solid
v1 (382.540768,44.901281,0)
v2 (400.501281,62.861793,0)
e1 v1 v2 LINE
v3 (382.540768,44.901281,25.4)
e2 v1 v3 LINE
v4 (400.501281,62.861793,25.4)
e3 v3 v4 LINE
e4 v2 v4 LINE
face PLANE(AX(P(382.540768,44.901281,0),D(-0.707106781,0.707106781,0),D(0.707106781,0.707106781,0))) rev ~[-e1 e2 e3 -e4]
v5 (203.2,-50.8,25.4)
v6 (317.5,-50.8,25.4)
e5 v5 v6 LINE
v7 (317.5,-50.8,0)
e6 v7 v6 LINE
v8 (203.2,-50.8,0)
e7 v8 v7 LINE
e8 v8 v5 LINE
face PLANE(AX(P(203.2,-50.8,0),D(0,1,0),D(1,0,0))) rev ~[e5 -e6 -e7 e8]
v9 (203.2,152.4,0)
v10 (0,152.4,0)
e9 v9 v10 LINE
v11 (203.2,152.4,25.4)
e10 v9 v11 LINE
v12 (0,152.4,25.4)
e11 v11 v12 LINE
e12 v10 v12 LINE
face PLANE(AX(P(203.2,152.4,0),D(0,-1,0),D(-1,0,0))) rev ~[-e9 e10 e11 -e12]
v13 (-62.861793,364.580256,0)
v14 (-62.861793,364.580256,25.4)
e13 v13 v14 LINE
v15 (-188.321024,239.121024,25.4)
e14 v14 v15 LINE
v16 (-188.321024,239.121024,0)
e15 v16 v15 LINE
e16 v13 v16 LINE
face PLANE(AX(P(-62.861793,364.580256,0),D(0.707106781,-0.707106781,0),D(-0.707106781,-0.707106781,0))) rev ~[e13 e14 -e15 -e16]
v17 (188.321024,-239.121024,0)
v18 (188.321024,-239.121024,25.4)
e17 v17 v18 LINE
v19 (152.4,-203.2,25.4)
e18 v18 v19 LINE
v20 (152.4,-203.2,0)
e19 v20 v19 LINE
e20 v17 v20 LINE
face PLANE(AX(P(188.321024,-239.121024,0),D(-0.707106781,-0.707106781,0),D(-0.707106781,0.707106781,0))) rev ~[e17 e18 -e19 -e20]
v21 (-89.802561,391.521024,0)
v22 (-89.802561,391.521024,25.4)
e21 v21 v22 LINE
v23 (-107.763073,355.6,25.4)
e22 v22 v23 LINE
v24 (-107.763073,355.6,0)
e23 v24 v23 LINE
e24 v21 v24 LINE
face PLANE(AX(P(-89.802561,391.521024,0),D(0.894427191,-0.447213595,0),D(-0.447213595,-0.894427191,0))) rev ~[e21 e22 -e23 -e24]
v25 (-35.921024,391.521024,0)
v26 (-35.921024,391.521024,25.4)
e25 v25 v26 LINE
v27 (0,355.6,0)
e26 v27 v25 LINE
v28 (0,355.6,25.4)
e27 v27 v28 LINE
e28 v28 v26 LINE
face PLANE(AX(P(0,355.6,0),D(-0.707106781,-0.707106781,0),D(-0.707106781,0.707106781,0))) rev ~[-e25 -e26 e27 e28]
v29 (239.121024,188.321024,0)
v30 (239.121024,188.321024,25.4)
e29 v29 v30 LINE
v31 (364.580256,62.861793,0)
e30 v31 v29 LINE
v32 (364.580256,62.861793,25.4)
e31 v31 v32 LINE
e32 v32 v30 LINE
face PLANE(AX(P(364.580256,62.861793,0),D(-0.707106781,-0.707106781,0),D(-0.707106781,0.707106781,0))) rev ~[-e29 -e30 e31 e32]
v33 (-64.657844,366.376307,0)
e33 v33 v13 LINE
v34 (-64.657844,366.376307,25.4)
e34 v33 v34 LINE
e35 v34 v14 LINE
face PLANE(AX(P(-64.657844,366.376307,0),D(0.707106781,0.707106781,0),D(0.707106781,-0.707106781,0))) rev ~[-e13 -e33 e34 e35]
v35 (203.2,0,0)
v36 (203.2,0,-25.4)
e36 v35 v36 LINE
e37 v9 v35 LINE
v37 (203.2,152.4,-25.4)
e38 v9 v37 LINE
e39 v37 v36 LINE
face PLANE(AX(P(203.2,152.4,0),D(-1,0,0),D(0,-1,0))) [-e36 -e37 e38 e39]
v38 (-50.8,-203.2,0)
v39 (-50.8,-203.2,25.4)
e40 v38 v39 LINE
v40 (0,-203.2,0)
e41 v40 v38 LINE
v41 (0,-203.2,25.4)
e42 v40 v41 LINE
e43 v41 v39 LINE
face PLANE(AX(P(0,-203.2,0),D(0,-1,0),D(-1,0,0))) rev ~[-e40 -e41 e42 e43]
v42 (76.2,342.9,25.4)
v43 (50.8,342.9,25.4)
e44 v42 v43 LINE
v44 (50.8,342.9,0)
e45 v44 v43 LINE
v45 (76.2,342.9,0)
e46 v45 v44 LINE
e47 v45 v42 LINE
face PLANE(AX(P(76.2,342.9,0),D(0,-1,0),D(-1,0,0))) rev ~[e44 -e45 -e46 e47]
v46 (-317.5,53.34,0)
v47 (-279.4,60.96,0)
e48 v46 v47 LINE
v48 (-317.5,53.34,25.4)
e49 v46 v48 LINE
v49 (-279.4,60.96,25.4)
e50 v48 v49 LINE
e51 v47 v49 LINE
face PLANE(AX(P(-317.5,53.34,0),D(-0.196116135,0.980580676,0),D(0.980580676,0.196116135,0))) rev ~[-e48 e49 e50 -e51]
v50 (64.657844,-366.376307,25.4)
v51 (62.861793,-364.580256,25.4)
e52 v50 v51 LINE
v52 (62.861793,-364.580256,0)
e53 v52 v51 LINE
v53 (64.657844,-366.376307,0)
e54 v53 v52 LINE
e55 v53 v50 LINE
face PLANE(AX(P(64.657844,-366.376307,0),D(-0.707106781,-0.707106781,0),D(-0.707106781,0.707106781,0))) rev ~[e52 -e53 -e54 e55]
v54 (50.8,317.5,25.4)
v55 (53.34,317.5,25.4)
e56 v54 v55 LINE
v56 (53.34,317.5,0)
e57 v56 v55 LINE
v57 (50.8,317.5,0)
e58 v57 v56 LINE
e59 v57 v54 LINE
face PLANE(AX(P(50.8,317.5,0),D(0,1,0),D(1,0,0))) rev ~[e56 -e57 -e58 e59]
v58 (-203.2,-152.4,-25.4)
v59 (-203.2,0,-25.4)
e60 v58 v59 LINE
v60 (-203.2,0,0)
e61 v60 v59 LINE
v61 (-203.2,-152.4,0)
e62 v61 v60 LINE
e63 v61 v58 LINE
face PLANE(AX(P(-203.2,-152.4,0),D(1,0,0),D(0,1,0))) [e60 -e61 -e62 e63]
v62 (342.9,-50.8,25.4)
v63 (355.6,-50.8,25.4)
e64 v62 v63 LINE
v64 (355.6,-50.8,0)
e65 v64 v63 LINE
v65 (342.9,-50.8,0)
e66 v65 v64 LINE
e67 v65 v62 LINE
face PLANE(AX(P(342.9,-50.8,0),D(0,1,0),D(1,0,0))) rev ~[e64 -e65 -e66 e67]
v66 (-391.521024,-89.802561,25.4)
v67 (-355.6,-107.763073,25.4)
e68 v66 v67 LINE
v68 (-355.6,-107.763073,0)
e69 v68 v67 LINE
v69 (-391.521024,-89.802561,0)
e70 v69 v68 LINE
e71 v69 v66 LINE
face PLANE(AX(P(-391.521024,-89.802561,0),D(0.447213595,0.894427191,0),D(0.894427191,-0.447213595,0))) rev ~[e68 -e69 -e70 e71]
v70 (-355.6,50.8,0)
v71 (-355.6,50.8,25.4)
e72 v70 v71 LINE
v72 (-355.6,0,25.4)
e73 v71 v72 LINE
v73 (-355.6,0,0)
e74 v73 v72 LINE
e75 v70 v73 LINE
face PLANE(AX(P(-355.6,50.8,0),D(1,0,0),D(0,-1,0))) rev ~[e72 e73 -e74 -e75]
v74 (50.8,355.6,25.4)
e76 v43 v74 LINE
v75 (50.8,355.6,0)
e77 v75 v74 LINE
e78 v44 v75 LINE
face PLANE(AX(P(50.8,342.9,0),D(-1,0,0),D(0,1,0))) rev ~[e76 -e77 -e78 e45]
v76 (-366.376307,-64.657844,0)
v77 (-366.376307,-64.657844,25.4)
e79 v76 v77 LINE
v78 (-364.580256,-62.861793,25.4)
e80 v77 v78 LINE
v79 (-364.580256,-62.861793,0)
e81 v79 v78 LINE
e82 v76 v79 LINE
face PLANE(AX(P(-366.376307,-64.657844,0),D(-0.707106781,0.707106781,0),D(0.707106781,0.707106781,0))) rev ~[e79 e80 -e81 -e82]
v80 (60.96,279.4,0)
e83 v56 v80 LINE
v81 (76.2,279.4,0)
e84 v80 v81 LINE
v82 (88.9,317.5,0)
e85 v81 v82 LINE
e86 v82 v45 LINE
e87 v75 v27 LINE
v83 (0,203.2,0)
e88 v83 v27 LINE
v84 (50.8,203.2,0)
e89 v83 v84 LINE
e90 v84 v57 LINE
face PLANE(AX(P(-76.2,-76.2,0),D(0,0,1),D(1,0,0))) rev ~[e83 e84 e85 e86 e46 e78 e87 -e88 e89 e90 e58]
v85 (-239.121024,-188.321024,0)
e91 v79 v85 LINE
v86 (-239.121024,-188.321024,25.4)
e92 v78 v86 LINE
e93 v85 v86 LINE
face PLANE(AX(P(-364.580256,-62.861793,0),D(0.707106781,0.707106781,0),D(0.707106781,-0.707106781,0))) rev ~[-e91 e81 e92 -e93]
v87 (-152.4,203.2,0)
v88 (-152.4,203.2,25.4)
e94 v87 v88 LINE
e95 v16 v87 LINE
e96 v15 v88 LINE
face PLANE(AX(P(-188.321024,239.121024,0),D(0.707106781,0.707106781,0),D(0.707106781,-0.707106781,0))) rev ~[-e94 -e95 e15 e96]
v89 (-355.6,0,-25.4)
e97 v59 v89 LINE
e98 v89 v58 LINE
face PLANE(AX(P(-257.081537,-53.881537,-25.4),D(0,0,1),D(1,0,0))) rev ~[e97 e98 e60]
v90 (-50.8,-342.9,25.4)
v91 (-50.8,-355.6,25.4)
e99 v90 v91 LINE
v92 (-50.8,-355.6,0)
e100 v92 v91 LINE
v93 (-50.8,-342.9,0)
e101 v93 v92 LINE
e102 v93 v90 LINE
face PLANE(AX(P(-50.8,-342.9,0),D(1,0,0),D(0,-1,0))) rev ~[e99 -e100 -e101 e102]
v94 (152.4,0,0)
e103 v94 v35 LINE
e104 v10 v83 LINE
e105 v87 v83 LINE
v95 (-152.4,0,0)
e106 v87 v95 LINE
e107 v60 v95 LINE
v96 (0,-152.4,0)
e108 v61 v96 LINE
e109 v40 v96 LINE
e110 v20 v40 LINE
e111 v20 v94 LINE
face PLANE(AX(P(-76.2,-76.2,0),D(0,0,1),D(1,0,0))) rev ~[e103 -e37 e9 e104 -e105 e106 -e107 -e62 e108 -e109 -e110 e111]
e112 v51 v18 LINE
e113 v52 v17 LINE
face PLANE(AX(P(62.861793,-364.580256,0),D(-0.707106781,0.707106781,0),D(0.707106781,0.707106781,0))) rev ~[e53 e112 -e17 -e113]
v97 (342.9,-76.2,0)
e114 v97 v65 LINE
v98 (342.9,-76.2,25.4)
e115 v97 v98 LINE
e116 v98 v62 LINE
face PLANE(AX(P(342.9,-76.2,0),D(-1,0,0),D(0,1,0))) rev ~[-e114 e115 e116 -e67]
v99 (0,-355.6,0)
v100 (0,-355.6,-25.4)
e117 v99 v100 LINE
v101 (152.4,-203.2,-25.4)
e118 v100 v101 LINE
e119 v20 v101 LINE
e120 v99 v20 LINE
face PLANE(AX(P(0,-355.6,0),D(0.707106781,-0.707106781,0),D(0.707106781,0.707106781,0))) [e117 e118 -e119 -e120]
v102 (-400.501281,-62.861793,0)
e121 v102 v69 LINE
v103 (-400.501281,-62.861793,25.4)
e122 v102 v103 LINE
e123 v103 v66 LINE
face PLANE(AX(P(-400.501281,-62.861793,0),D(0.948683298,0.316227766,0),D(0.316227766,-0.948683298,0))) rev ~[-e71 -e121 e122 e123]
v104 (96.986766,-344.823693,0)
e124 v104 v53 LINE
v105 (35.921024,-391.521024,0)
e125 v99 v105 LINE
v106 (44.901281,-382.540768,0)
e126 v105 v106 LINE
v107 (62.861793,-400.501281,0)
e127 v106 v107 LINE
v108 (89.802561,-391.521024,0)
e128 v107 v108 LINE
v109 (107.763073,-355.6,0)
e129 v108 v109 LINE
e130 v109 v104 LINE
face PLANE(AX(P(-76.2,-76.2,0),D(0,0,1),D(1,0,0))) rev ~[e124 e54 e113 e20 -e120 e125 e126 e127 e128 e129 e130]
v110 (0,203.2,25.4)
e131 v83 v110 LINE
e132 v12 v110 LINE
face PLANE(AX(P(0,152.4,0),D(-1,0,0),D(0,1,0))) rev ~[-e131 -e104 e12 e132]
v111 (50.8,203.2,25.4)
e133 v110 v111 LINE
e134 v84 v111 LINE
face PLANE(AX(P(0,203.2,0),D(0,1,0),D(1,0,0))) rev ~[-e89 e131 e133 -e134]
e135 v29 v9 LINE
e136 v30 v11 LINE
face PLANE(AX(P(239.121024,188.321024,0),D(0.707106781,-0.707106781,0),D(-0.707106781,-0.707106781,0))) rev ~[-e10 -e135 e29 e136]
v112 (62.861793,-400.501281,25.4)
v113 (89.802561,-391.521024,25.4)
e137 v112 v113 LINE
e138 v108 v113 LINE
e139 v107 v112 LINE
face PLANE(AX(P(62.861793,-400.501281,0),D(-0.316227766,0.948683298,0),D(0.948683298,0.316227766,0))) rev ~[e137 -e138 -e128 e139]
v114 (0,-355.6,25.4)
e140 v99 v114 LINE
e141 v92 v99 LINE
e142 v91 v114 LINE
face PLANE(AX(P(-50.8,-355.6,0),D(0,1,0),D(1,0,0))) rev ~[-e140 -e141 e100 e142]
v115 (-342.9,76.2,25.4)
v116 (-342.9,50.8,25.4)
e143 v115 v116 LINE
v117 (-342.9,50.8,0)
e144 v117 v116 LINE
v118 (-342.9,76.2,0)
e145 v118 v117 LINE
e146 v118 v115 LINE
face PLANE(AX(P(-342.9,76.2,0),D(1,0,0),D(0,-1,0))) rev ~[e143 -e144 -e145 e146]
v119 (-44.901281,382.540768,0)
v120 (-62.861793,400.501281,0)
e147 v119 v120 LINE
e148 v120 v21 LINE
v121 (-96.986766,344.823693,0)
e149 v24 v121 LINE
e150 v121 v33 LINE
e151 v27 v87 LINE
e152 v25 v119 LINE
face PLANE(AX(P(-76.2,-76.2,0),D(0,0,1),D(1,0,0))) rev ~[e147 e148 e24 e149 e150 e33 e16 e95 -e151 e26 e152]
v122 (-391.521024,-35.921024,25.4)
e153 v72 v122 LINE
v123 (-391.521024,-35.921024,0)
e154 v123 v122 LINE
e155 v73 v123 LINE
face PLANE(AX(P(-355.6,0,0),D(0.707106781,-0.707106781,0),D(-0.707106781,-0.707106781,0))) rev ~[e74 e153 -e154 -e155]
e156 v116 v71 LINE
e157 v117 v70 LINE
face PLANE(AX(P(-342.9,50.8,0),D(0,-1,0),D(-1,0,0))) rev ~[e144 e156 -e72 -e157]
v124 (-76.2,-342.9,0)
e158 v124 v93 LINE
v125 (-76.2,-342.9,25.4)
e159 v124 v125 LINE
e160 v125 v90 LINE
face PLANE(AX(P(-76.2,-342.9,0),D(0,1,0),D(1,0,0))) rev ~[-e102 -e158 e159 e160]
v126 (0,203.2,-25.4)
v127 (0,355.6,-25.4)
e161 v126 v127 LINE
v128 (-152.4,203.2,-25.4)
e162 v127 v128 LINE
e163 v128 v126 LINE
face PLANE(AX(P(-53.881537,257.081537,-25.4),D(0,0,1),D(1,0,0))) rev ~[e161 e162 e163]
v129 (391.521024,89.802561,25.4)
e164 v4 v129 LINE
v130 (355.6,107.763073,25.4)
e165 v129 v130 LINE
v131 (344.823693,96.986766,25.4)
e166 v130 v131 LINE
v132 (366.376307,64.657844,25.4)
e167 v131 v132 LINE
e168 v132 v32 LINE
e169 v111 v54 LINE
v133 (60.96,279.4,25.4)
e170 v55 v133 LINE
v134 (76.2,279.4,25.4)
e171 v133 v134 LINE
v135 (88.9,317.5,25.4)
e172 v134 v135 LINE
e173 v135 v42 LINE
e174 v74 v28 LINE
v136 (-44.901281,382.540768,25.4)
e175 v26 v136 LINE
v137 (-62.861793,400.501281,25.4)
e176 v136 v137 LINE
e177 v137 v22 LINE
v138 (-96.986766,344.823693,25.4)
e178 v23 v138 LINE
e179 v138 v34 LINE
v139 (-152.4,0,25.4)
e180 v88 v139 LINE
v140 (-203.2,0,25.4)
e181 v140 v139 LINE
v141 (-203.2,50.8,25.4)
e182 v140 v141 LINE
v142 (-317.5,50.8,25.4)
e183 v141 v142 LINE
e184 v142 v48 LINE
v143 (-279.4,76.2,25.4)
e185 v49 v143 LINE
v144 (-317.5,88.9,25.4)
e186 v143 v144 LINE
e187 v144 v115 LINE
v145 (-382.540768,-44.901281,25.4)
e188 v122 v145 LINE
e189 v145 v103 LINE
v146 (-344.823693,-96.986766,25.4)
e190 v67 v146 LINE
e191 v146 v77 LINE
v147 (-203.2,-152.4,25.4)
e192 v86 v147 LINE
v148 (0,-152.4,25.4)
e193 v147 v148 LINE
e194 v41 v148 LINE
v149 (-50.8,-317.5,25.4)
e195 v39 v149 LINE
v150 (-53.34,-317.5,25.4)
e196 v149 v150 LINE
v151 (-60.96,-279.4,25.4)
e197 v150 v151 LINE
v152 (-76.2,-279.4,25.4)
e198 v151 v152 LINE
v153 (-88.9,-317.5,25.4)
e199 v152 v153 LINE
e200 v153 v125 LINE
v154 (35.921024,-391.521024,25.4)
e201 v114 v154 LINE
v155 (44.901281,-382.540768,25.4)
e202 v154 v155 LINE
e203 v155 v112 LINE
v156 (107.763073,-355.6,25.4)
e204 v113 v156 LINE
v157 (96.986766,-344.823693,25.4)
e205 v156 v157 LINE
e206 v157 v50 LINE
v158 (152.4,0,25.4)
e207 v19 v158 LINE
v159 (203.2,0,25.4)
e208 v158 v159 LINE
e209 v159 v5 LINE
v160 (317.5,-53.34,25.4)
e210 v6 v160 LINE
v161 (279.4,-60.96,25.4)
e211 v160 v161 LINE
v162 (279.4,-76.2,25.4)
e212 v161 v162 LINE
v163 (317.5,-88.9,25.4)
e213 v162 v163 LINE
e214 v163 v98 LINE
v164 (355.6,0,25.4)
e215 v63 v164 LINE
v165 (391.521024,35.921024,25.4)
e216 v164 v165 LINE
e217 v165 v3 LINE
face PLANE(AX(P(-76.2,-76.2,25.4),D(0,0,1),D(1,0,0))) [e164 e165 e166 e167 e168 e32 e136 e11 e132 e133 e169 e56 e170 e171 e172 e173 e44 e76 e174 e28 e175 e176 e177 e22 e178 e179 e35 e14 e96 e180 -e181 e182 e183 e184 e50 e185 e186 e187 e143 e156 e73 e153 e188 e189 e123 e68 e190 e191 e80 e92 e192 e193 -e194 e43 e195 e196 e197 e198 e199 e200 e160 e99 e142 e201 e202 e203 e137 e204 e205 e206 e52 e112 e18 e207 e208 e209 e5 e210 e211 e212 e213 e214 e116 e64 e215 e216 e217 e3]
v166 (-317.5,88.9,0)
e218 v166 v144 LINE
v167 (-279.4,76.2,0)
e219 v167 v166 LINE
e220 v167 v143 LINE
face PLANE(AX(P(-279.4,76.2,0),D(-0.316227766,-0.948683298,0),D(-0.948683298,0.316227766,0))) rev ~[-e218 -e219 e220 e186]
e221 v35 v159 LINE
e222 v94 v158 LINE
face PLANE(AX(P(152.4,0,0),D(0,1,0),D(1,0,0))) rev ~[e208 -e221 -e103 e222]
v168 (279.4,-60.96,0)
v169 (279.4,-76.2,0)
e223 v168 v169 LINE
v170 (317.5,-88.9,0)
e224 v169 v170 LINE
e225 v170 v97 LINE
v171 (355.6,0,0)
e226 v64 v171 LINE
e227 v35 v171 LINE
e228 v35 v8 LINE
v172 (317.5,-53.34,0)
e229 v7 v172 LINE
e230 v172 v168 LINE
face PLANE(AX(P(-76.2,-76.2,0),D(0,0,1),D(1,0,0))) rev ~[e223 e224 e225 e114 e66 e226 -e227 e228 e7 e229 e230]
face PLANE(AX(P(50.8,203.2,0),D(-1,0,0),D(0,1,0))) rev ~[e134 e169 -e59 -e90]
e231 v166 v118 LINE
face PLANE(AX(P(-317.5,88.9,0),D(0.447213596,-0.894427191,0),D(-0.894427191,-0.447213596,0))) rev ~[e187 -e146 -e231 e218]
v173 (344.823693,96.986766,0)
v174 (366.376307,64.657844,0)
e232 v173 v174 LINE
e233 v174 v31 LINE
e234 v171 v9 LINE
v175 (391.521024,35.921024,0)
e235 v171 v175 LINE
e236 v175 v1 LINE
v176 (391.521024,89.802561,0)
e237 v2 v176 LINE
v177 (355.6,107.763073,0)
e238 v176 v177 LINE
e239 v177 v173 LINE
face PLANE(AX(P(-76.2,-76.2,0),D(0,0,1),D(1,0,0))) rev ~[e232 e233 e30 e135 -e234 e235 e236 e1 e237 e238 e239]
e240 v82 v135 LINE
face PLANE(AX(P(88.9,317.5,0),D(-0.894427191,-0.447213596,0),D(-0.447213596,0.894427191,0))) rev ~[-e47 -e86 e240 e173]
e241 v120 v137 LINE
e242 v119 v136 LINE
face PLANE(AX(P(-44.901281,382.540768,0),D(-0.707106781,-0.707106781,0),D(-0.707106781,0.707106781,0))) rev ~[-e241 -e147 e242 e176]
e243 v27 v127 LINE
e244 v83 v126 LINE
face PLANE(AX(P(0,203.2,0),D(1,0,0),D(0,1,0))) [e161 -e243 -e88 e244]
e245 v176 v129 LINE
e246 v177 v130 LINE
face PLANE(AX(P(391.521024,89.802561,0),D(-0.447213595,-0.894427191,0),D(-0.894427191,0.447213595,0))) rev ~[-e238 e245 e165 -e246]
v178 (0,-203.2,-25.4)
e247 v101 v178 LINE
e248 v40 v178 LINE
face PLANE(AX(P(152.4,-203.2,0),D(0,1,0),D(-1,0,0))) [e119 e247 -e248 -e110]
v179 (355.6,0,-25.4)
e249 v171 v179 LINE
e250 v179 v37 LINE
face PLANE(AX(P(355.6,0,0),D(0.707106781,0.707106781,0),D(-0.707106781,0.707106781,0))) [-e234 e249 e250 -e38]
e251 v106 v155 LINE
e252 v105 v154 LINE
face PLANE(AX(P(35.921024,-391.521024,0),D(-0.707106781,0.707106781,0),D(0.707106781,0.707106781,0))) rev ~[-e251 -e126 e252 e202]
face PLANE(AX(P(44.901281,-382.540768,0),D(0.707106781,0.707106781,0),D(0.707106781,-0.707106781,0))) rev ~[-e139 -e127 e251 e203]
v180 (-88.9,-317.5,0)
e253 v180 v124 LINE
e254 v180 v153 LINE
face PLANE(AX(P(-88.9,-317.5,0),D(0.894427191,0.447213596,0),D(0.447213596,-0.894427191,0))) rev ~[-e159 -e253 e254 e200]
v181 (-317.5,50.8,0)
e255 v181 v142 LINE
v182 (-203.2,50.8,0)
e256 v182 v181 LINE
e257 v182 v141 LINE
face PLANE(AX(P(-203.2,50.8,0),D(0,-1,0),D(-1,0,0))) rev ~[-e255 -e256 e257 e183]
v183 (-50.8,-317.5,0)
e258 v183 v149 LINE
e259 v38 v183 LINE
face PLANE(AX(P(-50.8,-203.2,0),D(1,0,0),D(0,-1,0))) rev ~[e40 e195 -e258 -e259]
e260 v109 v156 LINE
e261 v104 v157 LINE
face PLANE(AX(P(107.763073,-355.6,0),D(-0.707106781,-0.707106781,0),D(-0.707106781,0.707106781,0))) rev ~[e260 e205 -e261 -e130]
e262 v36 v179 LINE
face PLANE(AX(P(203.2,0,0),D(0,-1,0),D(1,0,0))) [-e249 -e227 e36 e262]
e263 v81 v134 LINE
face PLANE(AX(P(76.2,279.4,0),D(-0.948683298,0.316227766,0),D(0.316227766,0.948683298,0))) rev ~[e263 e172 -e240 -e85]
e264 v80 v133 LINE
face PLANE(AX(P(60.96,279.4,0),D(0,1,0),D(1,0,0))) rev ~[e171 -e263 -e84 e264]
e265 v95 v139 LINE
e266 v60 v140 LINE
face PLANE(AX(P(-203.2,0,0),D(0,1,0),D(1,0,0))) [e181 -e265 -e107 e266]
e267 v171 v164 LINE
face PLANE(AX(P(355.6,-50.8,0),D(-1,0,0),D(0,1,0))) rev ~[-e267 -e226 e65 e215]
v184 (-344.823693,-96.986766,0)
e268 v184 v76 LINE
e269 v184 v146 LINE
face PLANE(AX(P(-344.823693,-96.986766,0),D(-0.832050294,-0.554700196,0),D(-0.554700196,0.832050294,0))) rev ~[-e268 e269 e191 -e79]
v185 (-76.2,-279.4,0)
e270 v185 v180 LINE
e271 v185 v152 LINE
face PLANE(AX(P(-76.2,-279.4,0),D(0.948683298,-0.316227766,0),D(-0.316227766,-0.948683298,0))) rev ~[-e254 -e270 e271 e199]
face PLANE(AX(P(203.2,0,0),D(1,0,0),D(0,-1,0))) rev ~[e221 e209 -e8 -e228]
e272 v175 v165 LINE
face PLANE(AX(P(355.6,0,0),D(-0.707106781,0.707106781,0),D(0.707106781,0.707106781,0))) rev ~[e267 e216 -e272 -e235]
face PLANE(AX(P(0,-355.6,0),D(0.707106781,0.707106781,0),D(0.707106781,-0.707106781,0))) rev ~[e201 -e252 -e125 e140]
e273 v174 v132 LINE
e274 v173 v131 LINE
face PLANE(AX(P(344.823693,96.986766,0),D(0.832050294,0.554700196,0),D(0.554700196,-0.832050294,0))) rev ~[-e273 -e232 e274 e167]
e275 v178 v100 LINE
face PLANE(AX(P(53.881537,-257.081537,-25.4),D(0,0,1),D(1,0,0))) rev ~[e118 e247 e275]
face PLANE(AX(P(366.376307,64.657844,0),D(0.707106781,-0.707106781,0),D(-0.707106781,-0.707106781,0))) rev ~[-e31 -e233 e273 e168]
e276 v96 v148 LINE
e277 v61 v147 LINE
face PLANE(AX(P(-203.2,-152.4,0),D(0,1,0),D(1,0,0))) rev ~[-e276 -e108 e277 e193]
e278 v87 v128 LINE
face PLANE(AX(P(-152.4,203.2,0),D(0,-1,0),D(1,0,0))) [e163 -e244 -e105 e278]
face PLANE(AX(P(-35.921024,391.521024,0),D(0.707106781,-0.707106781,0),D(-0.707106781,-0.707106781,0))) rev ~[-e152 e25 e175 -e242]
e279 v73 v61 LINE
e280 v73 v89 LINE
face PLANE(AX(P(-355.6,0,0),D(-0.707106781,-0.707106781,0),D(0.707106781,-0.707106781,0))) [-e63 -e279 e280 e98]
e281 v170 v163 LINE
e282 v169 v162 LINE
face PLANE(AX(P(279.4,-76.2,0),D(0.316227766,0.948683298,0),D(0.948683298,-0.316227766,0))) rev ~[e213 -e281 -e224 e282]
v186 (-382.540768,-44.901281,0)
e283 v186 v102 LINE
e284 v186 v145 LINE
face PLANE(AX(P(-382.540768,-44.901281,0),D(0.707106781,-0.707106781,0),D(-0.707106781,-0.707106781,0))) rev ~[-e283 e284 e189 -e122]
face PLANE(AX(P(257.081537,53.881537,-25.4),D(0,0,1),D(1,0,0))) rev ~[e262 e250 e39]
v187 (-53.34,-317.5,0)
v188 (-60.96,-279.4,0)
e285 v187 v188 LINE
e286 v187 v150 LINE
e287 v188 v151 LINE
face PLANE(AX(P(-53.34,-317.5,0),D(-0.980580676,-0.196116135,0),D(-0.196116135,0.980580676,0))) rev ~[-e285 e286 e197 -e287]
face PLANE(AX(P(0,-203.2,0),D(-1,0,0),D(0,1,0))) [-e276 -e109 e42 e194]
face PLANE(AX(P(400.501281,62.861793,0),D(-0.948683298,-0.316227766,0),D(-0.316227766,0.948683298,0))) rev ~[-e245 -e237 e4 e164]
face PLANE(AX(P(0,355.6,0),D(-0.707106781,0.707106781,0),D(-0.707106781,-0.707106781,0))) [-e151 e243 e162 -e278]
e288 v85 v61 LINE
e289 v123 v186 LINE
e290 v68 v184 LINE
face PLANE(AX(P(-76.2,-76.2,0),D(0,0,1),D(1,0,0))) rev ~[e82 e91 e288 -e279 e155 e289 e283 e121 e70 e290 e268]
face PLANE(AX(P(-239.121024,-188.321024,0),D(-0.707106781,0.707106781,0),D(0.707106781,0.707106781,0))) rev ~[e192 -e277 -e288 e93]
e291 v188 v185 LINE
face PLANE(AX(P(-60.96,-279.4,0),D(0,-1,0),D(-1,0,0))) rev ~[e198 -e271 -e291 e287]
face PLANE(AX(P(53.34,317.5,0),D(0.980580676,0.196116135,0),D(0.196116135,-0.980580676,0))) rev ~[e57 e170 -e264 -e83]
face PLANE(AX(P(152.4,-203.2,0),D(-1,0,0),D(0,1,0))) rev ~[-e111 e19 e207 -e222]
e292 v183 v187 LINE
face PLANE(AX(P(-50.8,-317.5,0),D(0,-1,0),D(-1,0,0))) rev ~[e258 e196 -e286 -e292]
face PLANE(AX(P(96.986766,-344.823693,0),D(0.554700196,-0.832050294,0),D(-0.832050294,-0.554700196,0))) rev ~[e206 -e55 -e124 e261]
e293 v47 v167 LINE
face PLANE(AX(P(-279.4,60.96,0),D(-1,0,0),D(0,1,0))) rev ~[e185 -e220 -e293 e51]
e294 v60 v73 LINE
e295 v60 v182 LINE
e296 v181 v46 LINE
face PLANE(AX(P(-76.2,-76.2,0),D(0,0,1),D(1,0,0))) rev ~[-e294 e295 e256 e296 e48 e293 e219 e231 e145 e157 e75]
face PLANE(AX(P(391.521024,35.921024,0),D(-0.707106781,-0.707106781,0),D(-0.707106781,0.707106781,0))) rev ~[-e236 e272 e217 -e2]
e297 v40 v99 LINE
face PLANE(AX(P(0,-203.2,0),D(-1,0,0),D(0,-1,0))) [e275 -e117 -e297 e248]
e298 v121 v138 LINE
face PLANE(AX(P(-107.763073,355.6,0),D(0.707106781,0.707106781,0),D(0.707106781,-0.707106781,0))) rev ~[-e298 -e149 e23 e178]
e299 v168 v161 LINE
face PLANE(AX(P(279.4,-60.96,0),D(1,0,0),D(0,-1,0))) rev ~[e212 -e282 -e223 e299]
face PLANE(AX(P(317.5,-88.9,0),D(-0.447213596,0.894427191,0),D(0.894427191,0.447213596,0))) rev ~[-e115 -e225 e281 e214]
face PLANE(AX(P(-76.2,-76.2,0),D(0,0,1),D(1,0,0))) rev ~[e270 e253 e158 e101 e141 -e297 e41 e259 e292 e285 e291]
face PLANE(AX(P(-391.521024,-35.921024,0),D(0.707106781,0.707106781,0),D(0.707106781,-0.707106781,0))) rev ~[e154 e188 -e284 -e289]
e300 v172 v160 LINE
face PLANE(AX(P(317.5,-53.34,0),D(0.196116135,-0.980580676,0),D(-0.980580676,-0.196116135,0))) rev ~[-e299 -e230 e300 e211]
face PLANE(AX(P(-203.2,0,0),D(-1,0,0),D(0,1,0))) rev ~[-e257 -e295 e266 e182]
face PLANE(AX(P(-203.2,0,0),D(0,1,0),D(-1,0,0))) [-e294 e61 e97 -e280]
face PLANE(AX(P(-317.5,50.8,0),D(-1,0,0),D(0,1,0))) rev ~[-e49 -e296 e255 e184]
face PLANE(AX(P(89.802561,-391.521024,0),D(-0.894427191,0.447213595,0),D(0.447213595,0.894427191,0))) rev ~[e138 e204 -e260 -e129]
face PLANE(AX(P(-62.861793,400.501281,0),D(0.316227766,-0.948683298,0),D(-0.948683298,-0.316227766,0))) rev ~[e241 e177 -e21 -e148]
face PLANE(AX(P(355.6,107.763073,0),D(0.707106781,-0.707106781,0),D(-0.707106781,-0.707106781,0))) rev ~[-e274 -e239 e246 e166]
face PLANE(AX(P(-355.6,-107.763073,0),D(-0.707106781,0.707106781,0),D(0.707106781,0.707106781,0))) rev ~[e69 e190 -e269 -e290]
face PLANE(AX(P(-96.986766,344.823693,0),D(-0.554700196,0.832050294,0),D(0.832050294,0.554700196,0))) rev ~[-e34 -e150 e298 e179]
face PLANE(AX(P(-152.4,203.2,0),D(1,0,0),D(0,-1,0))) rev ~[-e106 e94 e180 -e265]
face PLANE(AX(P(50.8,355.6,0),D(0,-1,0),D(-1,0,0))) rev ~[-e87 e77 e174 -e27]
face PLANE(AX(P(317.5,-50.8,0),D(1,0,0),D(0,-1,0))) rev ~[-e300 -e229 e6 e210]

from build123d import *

# Parameters (mm, degrees)
F0_W     = 152.4
F0_H     = 152.4
F0_W_2   = 50.8
F0_H_2   = 50.8
F1_DEPTH = 25.4
F2_DEPTH = 25.4


with BuildPart() as f1:
    # F0 (on Top) → F1 (new body)
    with BuildSketch(Plane.XY):
        with Locations((-76.2, -76.2)):
            Rectangle(F0_W, F0_H)
        with Locations((-76.2, 76.2)):
            Rectangle(F0_W, F0_H)
        with Locations((76.2, -76.2)):
            Rectangle(F0_W, F0_H)
        with Locations((76.2, 76.2)):
            Rectangle(F0_W, F0_H)
        with Locations((-177.8, -76.2)):
            Rectangle(F0_W_2, F0_H)
        with Locations((-76.2, 177.8)):
            Rectangle(F0_W, F0_H_2)
        with Locations((76.2, -177.8)):
            Rectangle(F0_W, F0_H_2)
        with Locations((177.8, 76.2)):
            Rectangle(F0_W_2, F0_H)
        Polygon((-355.6, 0), (-203.2, 0), (-203.2, 50.8), (-317.5, 50.8), (-342.9, 50.8), (-355.6, 50.8), align=None)
        Polygon((-203.2, -152.4), (-203.2, 0), (-355.6, 0), align=None)
        Polygon((-152.4, 203.2), (0, 203.2), (0, 355.6), align=None)
        Polygon((0, 355.6), (0, 203.2), (50.8, 203.2), (50.8, 317.5), (50.8, 342.9), (50.8, 355.6), align=None)
        Polygon((0, -355.6), (0, -203.2), (-50.8, -203.2), (-50.8, -317.5), (-50.8, -342.9), (-50.8, -355.6), align=None)
        Polygon((152.4, -203.2), (0, -203.2), (0, -355.6), align=None)
        Polygon((355.6, 0), (203.2, 0), (203.2, -50.8), (317.5, -50.8), (342.9, -50.8), (355.6, -50.8), align=None)
        Polygon((203.2, 152.4), (203.2, 0), (355.6, 0), align=None)
        Polygon((-188.3210244843, 239.1210244843), (-152.4, 203.2), (0, 355.6), (-35.9210244843, 391.5210244843), (-44.9012806053, 382.5407683632), (-62.8617928475, 364.5802561211), align=None)
        Polygon((-203.2, -152.4), (-355.6, 0), (-391.5210244843, -35.9210244843), (-382.5407683632, -44.9012806053), (-364.5802561211, -62.8617928475), (-239.1210244843, -188.3210244843), align=None)
        Polygon((239.1210244843, 188.3210244843), (203.2, 152.4), (355.6, 0), (391.5210244843, 35.9210244843), (382.5407683632, 44.9012806053), (364.5802561211, 62.8617928475), align=None)
        Polygon((152.4, -203.2), (0, -355.6), (35.9210244843, -391.5210244843), (44.9012806053, -382.5407683632), (62.8617928475, -364.5802561211), (188.3210244843, -239.1210244843), align=None)
        Polygon((-342.9, 50.8), (-317.5, 50.8), (-317.5, 53.34), (-279.4, 60.96), (-279.4, 76.2), (-317.5, 88.9), (-342.9, 76.2), align=None)
        Polygon((50.8, 342.9), (50.8, 317.5), (53.34, 317.5), (60.96, 279.4), (76.2, 279.4), (88.9, 317.5), (76.2, 342.9), align=None)
        Polygon((-50.8, -342.9), (-50.8, -317.5), (-53.34, -317.5), (-60.96, -279.4), (-76.2, -279.4), (-88.9, -317.5), (-76.2, -342.9), align=None)
        Polygon((342.9, -50.8), (317.5, -50.8), (317.5, -53.34), (279.4, -60.96), (279.4, -76.2), (317.5, -88.9), (342.9, -76.2), align=None)
        Polygon((-64.6578440717, 366.3763073453), (-62.8617928475, 364.5802561211), (-44.9012806053, 382.5407683632), (-62.8617928475, 400.5012806053), (-89.8025612107, 391.5210244843), align=None)
        Polygon((-364.5802561211, -62.8617928475), (-382.5407683632, -44.9012806053), (-400.5012806053, -62.8617928475), (-391.5210244843, -89.8025612107), (-366.3763073453, -64.6578440717), align=None)
        Polygon((366.3763073453, 64.6578440717), (364.5802561211, 62.8617928475), (382.5407683632, 44.9012806053), (400.5012806053, 62.8617928475), (391.5210244843, 89.8025612107), align=None)
        Polygon((62.8617928475, -364.5802561211), (44.9012806053, -382.5407683632), (62.8617928475, -400.5012806053), (89.8025612107, -391.5210244843), (64.6578440717, -366.3763073453), align=None)
        Polygon((-96.9867661075, 344.8236926547), (-64.6578440717, 366.3763073453), (-89.8025612107, 391.5210244843), (-107.7630734528, 355.6), align=None)
        Polygon((-344.8236926547, -96.9867661075), (-366.3763073453, -64.6578440717), (-391.5210244843, -89.8025612107), (-355.6, -107.7630734528), align=None)
        Polygon((344.8236926547, 96.9867661075), (366.3763073453, 64.6578440717), (391.5210244843, 89.8025612107), (355.6, 107.7630734528), align=None)
        Polygon((96.9867661075, -344.8236926547), (64.6578440717, -366.3763073453), (89.8025612107, -391.5210244843), (107.7630734528, -355.6), align=None)
    extrude(amount=F1_DEPTH)

    # F0 (on Top) → F2 (join)
    with BuildSketch(Plane.XY):
        Polygon((203.2, 152.4), (203.2, 0), (355.6, 0), align=None)
        Polygon((-152.4, 203.2), (0, 203.2), (0, 355.6), align=None)
        Polygon((-203.2, -152.4), (-203.2, 0), (-355.6, 0), align=None)
        Polygon((152.4, -203.2), (0, -203.2), (0, -355.6), align=None)
    extrude(amount=-F2_DEPTH)


solid = f1.part
